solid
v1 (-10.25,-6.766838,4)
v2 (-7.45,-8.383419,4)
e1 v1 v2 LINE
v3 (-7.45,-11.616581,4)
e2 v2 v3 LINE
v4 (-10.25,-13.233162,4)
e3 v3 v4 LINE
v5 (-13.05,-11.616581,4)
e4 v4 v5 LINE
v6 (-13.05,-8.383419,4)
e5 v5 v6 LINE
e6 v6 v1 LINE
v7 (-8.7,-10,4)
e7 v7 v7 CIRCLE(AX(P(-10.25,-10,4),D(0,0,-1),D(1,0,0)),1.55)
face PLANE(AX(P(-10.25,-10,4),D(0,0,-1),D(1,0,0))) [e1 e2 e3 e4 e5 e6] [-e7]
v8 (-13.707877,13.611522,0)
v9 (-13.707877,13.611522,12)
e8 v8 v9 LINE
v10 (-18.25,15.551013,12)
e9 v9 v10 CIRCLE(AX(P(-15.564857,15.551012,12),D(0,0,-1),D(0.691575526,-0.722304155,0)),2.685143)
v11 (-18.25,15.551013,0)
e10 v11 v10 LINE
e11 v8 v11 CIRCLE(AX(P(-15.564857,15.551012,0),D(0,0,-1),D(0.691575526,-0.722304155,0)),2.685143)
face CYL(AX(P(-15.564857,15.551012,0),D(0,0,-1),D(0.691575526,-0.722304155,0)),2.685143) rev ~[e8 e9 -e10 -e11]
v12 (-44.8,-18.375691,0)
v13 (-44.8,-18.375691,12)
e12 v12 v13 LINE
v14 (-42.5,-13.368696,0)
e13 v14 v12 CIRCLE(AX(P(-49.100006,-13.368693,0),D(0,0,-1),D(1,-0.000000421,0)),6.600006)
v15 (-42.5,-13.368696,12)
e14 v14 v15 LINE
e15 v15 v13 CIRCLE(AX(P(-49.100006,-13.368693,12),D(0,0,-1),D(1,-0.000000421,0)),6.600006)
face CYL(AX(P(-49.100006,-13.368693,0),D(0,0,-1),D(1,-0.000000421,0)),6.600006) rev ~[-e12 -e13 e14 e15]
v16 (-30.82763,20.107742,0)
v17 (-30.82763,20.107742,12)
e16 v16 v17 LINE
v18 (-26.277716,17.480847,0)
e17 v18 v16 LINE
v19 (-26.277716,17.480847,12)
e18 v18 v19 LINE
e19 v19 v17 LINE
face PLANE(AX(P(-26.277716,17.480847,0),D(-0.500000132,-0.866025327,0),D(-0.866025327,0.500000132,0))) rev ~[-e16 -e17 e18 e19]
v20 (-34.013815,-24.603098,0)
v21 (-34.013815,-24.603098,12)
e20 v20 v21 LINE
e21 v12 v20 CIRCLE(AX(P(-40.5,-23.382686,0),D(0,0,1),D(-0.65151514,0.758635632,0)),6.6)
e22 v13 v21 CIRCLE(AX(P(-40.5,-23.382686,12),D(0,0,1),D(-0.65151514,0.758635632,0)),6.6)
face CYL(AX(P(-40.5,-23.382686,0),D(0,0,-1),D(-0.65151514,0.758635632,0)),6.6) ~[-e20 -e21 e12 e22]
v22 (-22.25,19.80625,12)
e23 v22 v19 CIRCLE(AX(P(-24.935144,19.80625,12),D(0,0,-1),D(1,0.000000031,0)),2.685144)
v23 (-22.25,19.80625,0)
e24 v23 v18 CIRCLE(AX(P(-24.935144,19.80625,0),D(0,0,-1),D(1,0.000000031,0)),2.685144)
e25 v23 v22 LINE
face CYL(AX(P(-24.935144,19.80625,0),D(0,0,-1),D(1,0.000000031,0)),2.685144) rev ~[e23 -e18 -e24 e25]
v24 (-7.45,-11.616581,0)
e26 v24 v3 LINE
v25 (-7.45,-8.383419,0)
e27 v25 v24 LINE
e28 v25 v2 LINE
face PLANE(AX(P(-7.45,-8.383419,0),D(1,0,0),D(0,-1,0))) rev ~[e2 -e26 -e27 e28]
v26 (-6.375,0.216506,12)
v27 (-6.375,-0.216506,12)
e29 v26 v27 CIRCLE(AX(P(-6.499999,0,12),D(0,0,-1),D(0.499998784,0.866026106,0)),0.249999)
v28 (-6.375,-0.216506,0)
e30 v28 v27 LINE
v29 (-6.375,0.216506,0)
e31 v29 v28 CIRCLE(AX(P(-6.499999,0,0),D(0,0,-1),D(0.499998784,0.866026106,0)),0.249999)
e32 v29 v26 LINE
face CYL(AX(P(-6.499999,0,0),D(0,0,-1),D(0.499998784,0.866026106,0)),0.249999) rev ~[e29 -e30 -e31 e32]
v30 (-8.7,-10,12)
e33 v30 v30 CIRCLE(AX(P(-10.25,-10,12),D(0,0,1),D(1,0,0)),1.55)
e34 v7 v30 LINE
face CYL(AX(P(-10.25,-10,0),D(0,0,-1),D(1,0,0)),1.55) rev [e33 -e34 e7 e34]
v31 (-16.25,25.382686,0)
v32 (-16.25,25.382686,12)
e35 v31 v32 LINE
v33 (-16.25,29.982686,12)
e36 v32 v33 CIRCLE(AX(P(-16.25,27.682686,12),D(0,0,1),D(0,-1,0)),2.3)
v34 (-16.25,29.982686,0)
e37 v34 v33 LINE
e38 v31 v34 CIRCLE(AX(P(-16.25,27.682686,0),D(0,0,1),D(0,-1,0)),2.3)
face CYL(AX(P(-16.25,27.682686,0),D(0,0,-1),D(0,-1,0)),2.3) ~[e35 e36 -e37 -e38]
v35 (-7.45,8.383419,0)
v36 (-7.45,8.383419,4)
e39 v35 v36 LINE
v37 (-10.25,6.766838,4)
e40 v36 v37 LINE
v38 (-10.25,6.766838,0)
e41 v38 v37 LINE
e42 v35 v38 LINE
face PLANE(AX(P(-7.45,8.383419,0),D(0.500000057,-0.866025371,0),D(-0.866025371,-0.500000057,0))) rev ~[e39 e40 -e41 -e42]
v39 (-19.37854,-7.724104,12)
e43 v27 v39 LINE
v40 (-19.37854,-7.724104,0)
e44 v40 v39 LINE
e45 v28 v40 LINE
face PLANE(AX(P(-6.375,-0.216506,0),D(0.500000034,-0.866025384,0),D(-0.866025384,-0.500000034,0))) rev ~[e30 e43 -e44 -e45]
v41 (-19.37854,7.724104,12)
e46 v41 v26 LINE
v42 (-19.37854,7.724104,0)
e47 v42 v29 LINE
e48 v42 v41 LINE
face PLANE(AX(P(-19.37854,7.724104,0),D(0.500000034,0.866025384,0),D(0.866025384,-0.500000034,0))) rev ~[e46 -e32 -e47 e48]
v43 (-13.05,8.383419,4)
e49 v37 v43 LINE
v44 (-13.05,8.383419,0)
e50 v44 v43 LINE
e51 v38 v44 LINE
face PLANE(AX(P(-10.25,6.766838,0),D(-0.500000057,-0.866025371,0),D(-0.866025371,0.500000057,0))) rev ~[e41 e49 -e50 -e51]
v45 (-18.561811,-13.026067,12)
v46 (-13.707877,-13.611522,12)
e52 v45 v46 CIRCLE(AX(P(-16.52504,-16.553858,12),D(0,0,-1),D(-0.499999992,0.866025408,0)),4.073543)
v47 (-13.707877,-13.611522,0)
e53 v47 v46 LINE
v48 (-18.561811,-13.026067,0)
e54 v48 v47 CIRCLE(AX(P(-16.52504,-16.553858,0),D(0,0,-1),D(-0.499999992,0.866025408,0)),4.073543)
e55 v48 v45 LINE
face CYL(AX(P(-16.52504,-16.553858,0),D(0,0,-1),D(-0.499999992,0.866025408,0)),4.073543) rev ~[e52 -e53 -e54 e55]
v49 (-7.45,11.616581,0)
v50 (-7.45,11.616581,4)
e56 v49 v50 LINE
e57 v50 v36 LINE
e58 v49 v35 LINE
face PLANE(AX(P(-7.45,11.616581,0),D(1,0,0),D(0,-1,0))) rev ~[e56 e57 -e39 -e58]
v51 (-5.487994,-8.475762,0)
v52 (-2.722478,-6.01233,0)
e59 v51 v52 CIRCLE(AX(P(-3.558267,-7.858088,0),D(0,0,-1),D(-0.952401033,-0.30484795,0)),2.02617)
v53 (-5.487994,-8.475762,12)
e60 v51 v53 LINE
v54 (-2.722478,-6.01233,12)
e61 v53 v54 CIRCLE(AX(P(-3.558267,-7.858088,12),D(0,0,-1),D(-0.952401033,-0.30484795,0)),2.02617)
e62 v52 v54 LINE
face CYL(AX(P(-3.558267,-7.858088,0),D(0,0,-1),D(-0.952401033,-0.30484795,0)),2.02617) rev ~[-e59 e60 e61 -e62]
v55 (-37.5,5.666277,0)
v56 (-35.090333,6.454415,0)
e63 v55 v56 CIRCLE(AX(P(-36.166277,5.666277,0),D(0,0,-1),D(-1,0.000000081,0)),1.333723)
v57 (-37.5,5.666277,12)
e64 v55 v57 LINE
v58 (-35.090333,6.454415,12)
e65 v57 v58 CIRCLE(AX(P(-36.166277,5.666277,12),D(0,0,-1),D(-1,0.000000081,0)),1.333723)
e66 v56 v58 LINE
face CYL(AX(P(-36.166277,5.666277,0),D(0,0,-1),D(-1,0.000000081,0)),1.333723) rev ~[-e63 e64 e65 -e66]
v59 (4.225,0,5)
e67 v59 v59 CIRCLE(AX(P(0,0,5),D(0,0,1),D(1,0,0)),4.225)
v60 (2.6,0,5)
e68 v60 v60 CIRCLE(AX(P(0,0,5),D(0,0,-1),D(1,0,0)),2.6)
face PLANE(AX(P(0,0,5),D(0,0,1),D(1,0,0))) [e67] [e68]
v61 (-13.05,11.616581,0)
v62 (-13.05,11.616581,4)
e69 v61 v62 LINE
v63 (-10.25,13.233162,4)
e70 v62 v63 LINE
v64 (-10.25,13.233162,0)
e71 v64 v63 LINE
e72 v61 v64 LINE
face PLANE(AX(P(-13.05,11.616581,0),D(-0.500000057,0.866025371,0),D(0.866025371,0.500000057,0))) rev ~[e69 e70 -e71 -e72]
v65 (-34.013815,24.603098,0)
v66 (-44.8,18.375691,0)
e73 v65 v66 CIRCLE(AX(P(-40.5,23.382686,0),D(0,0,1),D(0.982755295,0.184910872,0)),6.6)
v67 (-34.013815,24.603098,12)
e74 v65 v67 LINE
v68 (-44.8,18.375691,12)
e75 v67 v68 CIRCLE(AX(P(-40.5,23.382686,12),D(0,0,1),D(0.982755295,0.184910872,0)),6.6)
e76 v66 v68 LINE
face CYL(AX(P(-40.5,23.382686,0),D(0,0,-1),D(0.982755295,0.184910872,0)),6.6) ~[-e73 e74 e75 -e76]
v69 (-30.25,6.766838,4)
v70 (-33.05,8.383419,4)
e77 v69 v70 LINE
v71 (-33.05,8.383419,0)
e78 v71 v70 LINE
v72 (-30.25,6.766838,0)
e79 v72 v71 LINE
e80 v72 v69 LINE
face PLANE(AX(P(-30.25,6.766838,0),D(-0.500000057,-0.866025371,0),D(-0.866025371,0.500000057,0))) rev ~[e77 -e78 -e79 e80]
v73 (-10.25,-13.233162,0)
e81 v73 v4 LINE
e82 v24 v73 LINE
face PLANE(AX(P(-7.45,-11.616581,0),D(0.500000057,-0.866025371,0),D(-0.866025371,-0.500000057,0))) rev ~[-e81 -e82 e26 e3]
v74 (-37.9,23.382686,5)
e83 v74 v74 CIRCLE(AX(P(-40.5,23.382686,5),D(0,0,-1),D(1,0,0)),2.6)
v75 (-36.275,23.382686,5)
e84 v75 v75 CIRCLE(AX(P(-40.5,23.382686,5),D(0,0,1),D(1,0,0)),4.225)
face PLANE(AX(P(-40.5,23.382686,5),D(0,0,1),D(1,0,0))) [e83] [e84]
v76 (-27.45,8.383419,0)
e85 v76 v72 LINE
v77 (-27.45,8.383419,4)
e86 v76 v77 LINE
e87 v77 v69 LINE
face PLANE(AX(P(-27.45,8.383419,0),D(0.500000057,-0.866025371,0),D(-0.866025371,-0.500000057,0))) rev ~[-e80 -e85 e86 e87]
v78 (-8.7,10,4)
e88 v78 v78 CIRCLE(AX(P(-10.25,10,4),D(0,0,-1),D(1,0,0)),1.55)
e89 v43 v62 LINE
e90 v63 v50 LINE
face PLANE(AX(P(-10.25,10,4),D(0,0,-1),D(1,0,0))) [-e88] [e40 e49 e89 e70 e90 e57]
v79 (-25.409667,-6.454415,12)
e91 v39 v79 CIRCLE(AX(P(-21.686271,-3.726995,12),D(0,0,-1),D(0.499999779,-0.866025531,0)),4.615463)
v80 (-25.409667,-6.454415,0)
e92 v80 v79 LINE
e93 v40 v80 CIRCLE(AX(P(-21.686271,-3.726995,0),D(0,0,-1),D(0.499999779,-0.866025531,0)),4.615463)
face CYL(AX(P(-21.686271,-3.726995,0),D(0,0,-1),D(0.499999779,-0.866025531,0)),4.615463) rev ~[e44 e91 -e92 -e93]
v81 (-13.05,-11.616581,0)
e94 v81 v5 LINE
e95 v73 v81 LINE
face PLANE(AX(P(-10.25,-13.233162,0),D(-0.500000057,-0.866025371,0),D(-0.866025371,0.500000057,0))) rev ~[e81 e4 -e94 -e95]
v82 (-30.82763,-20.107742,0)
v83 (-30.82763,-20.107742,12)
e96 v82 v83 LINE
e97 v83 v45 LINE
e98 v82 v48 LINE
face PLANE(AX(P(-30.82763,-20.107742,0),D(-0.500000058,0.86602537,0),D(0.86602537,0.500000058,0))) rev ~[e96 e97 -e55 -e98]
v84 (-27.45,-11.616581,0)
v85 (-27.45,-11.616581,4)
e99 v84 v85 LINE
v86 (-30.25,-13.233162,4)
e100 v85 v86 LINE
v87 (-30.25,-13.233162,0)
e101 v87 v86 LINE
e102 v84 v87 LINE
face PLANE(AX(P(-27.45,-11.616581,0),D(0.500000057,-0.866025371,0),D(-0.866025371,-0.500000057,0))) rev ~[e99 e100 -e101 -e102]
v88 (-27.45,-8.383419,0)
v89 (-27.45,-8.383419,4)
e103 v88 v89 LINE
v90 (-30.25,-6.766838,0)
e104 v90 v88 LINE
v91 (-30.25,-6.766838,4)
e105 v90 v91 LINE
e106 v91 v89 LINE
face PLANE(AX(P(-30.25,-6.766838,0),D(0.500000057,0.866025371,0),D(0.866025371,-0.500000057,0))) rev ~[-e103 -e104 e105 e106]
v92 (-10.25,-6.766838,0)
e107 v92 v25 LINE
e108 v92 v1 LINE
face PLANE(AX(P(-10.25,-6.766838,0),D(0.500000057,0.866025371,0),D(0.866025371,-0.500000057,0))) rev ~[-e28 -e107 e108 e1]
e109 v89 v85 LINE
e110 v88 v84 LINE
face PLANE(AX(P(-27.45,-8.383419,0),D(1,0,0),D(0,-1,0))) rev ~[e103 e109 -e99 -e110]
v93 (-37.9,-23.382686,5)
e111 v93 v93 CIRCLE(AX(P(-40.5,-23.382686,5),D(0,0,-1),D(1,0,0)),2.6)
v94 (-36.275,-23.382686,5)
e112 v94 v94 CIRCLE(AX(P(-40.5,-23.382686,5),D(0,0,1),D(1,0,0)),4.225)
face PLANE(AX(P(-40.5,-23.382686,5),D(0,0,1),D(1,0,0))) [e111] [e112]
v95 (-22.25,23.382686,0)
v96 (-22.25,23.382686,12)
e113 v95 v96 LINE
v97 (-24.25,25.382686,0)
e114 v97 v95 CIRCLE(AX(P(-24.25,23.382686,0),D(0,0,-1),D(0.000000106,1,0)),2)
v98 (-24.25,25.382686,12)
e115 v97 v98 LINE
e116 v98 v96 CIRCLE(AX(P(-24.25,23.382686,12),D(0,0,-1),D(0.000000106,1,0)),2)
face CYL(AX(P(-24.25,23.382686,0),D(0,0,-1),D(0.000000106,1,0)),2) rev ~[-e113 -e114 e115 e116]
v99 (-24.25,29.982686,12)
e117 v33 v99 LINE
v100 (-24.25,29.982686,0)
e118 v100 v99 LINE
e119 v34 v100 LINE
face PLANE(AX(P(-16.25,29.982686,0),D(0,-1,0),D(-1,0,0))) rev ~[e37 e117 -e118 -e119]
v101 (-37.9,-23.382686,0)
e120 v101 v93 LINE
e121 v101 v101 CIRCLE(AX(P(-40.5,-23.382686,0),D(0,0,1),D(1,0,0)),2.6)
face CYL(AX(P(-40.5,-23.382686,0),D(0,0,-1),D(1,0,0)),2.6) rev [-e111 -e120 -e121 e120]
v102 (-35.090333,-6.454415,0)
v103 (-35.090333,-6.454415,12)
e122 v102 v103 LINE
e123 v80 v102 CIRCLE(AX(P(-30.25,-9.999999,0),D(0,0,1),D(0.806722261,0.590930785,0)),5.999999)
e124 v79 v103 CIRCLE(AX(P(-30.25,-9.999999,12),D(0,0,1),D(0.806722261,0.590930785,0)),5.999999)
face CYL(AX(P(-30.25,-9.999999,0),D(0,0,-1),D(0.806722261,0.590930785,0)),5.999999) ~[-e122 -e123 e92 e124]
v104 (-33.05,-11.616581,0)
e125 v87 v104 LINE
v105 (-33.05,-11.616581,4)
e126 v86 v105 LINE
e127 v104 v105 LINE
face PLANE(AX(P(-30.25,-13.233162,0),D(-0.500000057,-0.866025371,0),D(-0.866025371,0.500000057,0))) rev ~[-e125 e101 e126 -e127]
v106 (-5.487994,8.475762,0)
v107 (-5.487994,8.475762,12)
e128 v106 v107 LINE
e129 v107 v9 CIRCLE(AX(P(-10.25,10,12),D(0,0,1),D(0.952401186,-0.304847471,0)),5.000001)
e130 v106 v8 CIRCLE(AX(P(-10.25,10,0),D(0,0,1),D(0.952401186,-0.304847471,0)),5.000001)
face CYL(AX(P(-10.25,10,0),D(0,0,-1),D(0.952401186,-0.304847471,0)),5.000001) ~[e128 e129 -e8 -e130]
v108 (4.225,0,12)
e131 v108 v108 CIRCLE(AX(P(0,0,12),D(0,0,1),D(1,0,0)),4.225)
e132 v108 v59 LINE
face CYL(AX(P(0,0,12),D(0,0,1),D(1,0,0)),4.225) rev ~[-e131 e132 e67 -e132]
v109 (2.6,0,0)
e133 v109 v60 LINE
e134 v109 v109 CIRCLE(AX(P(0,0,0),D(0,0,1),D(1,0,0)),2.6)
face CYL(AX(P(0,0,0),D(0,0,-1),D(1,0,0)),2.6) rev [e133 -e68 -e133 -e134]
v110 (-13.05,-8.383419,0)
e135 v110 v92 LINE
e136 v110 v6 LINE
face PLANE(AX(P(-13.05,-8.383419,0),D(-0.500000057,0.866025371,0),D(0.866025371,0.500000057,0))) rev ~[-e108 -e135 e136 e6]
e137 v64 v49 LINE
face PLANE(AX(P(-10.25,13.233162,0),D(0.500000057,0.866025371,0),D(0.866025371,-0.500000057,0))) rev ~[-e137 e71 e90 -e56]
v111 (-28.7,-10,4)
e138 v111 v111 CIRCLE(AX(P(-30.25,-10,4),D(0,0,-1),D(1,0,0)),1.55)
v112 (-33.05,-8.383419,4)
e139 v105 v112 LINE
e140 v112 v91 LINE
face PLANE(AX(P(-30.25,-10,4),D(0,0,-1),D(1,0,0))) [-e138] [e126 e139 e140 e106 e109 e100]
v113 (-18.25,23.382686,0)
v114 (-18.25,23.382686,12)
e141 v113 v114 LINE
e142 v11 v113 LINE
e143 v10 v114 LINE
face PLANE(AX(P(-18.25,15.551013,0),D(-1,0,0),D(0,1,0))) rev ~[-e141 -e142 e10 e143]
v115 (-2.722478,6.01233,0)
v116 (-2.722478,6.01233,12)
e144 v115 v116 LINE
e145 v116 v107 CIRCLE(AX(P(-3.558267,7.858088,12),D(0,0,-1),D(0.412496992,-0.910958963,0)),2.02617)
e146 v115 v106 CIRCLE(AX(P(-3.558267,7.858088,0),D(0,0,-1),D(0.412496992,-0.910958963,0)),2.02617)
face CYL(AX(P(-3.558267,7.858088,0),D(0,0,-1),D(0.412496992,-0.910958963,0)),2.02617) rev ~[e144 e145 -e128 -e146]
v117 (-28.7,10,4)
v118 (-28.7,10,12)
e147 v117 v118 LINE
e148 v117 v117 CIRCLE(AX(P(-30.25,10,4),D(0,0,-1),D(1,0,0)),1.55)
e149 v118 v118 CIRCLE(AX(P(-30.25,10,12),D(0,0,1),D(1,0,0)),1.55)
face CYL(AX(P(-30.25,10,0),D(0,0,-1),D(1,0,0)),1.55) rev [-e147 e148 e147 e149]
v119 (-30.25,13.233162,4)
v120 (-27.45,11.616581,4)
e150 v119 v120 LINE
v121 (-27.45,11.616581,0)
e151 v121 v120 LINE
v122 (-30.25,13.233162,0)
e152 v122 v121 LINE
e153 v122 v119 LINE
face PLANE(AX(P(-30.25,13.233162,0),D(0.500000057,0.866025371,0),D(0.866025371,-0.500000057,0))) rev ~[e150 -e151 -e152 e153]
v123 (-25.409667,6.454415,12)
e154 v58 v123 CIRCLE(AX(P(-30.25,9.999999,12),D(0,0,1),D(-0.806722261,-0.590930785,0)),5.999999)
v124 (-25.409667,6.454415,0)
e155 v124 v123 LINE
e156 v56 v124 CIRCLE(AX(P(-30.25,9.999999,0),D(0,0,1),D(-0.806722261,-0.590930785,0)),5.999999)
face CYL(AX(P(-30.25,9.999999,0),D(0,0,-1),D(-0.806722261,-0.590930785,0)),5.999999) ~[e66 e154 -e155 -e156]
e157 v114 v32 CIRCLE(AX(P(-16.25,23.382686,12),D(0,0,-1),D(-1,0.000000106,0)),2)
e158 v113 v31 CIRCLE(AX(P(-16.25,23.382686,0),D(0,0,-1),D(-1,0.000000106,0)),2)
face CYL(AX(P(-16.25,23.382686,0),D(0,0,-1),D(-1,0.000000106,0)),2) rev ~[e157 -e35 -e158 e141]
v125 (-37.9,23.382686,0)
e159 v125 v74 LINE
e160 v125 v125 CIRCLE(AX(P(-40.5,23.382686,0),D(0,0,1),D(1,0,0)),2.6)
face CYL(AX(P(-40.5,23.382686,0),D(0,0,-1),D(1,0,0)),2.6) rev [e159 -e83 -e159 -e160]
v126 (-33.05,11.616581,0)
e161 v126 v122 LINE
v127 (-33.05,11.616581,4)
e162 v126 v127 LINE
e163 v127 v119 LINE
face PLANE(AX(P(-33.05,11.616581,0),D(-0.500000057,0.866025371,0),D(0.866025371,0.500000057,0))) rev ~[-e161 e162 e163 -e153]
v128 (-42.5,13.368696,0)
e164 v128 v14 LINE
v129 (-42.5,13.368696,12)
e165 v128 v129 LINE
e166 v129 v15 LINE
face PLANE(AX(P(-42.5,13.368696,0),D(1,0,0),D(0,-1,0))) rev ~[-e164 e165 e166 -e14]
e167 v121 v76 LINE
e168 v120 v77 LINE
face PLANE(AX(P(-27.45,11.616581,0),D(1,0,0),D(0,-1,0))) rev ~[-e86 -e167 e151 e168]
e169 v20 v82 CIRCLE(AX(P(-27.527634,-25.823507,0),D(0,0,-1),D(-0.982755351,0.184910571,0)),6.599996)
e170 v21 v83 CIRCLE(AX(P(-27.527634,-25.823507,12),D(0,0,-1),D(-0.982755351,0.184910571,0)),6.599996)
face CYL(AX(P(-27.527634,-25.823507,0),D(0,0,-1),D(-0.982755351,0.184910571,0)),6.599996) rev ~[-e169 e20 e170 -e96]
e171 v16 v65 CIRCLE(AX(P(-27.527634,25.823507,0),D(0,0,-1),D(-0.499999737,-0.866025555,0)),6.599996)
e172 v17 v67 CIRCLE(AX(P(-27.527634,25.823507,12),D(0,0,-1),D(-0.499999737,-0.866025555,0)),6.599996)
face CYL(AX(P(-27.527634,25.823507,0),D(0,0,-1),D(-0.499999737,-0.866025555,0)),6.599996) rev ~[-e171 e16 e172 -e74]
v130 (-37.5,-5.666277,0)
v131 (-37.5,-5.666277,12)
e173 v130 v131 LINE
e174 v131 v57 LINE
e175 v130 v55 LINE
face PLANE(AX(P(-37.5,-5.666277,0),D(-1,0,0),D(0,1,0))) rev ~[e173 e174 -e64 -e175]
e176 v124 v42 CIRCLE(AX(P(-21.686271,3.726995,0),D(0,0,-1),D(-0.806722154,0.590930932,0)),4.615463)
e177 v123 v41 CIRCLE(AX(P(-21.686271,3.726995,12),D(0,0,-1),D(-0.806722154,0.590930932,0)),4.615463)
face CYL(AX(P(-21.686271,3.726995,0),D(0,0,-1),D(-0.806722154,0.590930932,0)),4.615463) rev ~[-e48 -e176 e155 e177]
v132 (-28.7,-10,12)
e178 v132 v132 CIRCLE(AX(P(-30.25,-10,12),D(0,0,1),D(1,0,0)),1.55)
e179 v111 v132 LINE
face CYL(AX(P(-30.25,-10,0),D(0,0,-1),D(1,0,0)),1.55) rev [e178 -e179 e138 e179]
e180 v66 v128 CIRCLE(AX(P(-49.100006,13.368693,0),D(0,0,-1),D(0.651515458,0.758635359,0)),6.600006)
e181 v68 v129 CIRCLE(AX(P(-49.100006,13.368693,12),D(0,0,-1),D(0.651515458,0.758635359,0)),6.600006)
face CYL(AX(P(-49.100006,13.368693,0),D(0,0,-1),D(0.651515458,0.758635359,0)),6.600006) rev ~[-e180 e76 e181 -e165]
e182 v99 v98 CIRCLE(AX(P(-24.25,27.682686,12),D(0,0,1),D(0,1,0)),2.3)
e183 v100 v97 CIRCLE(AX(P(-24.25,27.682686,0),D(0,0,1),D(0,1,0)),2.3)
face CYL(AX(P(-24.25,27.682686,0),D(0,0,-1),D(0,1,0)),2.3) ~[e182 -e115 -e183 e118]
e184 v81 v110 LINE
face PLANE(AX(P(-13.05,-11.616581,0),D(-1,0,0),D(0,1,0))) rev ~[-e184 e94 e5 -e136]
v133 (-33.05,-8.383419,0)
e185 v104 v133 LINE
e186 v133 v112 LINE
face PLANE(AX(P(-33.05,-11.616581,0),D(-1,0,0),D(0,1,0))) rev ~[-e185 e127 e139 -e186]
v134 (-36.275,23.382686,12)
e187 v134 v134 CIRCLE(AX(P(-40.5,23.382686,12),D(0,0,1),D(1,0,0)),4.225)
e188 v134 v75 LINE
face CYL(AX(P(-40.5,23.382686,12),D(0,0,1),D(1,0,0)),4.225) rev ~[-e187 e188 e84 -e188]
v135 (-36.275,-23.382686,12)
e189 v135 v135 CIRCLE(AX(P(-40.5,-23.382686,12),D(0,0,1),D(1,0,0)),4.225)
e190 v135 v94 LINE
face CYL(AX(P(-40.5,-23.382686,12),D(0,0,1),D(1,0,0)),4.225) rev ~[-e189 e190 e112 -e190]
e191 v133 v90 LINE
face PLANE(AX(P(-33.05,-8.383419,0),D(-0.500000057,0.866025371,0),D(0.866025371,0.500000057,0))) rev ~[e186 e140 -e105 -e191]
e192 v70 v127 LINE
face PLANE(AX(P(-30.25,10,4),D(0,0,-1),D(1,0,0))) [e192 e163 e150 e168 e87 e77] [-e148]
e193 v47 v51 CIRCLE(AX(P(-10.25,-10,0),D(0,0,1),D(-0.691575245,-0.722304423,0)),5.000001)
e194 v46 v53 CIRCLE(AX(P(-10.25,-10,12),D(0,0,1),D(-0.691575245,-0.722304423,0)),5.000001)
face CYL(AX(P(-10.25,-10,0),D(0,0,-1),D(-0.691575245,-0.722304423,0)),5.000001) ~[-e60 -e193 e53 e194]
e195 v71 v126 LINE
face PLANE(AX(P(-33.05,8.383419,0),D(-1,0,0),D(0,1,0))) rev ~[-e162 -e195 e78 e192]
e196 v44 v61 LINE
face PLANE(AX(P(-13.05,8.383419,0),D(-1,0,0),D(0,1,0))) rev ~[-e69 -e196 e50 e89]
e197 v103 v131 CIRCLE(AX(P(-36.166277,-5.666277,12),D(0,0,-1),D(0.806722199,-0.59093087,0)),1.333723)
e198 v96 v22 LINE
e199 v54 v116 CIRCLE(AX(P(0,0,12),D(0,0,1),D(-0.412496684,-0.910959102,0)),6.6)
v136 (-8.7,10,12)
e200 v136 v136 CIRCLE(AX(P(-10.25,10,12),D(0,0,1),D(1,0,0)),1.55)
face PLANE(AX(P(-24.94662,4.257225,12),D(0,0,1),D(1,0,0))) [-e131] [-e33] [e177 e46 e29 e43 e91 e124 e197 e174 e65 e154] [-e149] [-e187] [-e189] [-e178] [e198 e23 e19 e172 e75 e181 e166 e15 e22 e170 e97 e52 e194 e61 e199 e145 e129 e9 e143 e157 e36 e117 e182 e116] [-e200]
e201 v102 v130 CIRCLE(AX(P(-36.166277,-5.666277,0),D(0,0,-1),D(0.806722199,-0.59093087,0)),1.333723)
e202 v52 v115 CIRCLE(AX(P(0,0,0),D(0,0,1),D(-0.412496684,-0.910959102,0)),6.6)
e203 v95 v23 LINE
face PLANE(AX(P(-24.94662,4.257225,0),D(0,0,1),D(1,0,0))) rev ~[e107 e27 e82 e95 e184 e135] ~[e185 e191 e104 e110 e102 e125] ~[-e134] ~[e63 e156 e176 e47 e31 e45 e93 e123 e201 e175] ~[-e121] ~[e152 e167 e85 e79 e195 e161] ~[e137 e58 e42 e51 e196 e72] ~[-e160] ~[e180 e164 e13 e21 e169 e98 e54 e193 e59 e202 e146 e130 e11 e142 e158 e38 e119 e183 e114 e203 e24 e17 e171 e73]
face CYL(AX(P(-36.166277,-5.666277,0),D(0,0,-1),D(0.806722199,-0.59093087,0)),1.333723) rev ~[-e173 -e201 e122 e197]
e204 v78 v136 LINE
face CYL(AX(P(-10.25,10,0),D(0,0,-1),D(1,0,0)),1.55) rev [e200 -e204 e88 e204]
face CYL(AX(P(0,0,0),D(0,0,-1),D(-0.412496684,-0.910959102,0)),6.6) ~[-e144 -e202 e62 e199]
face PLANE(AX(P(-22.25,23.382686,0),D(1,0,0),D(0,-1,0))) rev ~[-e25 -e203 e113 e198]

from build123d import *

# Parameters (mm, degrees)
F0_R     = 2.6
F0_R_2   = 1.55
F1_DEPTH = 12
F2_R     = 4.225
F3_DEPTH = 7
F5_DEPTH = 4


with BuildPart() as f1:
    # F0 (on Top) → F1 (new body)
    with BuildSketch(Plane.XY):
        with BuildLine():
            ThreePointArc((-30.82763, 20.107742), (-32.912276, 22.00702), (-34.013815, 24.603098))
            ThreePointArc((-34.013815, 24.603098), (-43.8, 29.098454), (-44.8, 18.375691))
            ThreePointArc((-44.8, 18.375691), (-43.102501, 16.123691), (-42.5, 13.368696))
            Line((-42.5, 13.368696), (-42.5, -13.368696))
            ThreePointArc((-42.5, -13.368696), (-43.102501, -16.123691), (-44.8, -18.375691))
            ThreePointArc((-44.8, -18.375691), (-43.8, -29.098454), (-34.013815, -24.603098))
            ThreePointArc((-34.013815, -24.603098), (-32.912276, -22.00702), (-30.82763, -20.107742))
            Line((-30.82763, -20.107742), (-18.561811, -13.026067))
            ThreePointArc((-18.561811, -13.026067), (-16.037247, -12.509627), (-13.707877, -13.611522))
            ThreePointArc((-13.707877, -13.611522), (-7.600624, -14.240378), (-5.487994, -8.475762))
            ThreePointArc((-5.487994, -8.475762), (-4.905969, -6.345122), (-2.722478, -6.01233))
            ThreePointArc((-2.722478, -6.01233), (6.6, 0), (-2.722478, 6.01233))
            ThreePointArc((-2.722478, 6.01233), (-4.905969, 6.345122), (-5.487994, 8.475762))
            ThreePointArc((-5.487994, 8.475762), (-7.600624, 14.240378), (-13.707877, 13.611522))
            ThreePointArc((-13.707877, 13.611522), (-16.619309, 13.081574), (-18.25, 15.551013))
            Line((-18.25, 15.551013), (-18.25, 23.382686))
            ThreePointArc((-18.25, 23.382686), (-17.664214, 24.796899), (-16.25, 25.382686))
            ThreePointArc((-16.25, 25.382686), (-13.95, 27.682686), (-16.25, 29.982686))
            Line((-16.25, 29.982686), (-24.25, 29.982686))
            ThreePointArc((-24.25, 29.982686), (-26.55, 27.682686), (-24.25, 25.382686))
            ThreePointArc((-24.25, 25.382686), (-22.835786, 24.796899), (-22.25, 23.382686))
            Line((-22.25, 23.382686), (-22.25, 19.80625))
            ThreePointArc((-22.25, 19.80625), (-23.592572, 17.480847), (-26.277716, 17.480847))
            Line((-26.277716, 17.480847), (-30.82763, 20.107742))
        make_face()
        with Locations((-40.5, -23.382686)):
            Circle(F0_R, mode=Mode.SUBTRACT)
        with Locations((-30.25, -10)):
            Circle(F0_R_2, mode=Mode.SUBTRACT)
        with BuildLine():
            ThreePointArc((-25.409667, 6.454415), (-22.637088, 8.243459), (-19.37854, 7.724104))
            Line((-19.37854, 7.724104), (-6.375, 0.216506))
            ThreePointArc((-6.375, 0.216506), (-6.25, 0), (-6.375, -0.216506))
            Line((-6.375, -0.216506), (-19.37854, -7.724104))
            ThreePointArc((-19.37854, -7.724104), (-22.637088, -8.243459), (-25.409667, -6.454415))
            ThreePointArc((-25.409667, -6.454415), (-30.25, -4), (-35.090333, -6.454415))
            ThreePointArc((-35.090333, -6.454415), (-36.580889, -6.933918), (-37.5, -5.666277))
            Line((-37.5, -5.666277), (-37.5, 5.666277))
            ThreePointArc((-37.5, 5.666277), (-36.580889, 6.933918), (-35.090333, 6.454415))
            ThreePointArc((-35.090333, 6.454415), (-30.25, 4), (-25.409667, 6.454415))
        make_face(mode=Mode.SUBTRACT)
        with Locations((-10.25, -10)):
            Circle(F0_R_2, mode=Mode.SUBTRACT)
        Circle(F0_R, mode=Mode.SUBTRACT)
        with Locations((-30.25, 10)):
            Circle(F0_R_2, mode=Mode.SUBTRACT)
        with Locations((-40.5, 23.382686)):
            Circle(F0_R, mode=Mode.SUBTRACT)
        with Locations((-10.25, 10)):
            Circle(F0_R_2, mode=Mode.SUBTRACT)
    extrude(amount=F1_DEPTH)

    # F2 (on face) → F3 (cut)
    with BuildSketch(Plane.XY.offset(12)):
        with Locations((-40.5, 23.382686)):
            Circle(F2_R)
        Circle(F2_R)
        with Locations((-40.5, -23.382686)):
            Circle(F2_R)
    extrude(amount=-F3_DEPTH, mode=Mode.SUBTRACT)

    # F4 (on face) → F5 (cut)
    with BuildSketch(Plane(origin=(0, 0, 0), x_dir=(1, 0, 0), z_dir=(0, 0, -1))):
        Polygon((-27.45, 8.383419), (-27.45, 11.616581), (-30.25, 13.233162), (-33.05, 11.616581), (-33.05, 8.383419), (-30.25, 6.766838), align=None)
        Polygon((-27.45, -11.616581), (-27.45, -8.383419), (-30.25, -6.766838), (-33.05, -8.383419), (-33.05, -11.616581), (-30.25, -13.233162), align=None)
        Polygon((-13.05, -8.383419), (-13.05, -11.616581), (-10.25, -13.233162), (-7.45, -11.616581), (-7.45, -8.383419), (-10.25, -6.766838), align=None)
        Polygon((-13.05, 11.616581), (-13.05, 8.383419), (-10.25, 6.766838), (-7.45, 8.383419), (-7.45, 11.616581), (-10.25, 13.233162), align=None)
    extrude(amount=-F5_DEPTH, mode=Mode.SUBTRACT)


solid = f1.part
